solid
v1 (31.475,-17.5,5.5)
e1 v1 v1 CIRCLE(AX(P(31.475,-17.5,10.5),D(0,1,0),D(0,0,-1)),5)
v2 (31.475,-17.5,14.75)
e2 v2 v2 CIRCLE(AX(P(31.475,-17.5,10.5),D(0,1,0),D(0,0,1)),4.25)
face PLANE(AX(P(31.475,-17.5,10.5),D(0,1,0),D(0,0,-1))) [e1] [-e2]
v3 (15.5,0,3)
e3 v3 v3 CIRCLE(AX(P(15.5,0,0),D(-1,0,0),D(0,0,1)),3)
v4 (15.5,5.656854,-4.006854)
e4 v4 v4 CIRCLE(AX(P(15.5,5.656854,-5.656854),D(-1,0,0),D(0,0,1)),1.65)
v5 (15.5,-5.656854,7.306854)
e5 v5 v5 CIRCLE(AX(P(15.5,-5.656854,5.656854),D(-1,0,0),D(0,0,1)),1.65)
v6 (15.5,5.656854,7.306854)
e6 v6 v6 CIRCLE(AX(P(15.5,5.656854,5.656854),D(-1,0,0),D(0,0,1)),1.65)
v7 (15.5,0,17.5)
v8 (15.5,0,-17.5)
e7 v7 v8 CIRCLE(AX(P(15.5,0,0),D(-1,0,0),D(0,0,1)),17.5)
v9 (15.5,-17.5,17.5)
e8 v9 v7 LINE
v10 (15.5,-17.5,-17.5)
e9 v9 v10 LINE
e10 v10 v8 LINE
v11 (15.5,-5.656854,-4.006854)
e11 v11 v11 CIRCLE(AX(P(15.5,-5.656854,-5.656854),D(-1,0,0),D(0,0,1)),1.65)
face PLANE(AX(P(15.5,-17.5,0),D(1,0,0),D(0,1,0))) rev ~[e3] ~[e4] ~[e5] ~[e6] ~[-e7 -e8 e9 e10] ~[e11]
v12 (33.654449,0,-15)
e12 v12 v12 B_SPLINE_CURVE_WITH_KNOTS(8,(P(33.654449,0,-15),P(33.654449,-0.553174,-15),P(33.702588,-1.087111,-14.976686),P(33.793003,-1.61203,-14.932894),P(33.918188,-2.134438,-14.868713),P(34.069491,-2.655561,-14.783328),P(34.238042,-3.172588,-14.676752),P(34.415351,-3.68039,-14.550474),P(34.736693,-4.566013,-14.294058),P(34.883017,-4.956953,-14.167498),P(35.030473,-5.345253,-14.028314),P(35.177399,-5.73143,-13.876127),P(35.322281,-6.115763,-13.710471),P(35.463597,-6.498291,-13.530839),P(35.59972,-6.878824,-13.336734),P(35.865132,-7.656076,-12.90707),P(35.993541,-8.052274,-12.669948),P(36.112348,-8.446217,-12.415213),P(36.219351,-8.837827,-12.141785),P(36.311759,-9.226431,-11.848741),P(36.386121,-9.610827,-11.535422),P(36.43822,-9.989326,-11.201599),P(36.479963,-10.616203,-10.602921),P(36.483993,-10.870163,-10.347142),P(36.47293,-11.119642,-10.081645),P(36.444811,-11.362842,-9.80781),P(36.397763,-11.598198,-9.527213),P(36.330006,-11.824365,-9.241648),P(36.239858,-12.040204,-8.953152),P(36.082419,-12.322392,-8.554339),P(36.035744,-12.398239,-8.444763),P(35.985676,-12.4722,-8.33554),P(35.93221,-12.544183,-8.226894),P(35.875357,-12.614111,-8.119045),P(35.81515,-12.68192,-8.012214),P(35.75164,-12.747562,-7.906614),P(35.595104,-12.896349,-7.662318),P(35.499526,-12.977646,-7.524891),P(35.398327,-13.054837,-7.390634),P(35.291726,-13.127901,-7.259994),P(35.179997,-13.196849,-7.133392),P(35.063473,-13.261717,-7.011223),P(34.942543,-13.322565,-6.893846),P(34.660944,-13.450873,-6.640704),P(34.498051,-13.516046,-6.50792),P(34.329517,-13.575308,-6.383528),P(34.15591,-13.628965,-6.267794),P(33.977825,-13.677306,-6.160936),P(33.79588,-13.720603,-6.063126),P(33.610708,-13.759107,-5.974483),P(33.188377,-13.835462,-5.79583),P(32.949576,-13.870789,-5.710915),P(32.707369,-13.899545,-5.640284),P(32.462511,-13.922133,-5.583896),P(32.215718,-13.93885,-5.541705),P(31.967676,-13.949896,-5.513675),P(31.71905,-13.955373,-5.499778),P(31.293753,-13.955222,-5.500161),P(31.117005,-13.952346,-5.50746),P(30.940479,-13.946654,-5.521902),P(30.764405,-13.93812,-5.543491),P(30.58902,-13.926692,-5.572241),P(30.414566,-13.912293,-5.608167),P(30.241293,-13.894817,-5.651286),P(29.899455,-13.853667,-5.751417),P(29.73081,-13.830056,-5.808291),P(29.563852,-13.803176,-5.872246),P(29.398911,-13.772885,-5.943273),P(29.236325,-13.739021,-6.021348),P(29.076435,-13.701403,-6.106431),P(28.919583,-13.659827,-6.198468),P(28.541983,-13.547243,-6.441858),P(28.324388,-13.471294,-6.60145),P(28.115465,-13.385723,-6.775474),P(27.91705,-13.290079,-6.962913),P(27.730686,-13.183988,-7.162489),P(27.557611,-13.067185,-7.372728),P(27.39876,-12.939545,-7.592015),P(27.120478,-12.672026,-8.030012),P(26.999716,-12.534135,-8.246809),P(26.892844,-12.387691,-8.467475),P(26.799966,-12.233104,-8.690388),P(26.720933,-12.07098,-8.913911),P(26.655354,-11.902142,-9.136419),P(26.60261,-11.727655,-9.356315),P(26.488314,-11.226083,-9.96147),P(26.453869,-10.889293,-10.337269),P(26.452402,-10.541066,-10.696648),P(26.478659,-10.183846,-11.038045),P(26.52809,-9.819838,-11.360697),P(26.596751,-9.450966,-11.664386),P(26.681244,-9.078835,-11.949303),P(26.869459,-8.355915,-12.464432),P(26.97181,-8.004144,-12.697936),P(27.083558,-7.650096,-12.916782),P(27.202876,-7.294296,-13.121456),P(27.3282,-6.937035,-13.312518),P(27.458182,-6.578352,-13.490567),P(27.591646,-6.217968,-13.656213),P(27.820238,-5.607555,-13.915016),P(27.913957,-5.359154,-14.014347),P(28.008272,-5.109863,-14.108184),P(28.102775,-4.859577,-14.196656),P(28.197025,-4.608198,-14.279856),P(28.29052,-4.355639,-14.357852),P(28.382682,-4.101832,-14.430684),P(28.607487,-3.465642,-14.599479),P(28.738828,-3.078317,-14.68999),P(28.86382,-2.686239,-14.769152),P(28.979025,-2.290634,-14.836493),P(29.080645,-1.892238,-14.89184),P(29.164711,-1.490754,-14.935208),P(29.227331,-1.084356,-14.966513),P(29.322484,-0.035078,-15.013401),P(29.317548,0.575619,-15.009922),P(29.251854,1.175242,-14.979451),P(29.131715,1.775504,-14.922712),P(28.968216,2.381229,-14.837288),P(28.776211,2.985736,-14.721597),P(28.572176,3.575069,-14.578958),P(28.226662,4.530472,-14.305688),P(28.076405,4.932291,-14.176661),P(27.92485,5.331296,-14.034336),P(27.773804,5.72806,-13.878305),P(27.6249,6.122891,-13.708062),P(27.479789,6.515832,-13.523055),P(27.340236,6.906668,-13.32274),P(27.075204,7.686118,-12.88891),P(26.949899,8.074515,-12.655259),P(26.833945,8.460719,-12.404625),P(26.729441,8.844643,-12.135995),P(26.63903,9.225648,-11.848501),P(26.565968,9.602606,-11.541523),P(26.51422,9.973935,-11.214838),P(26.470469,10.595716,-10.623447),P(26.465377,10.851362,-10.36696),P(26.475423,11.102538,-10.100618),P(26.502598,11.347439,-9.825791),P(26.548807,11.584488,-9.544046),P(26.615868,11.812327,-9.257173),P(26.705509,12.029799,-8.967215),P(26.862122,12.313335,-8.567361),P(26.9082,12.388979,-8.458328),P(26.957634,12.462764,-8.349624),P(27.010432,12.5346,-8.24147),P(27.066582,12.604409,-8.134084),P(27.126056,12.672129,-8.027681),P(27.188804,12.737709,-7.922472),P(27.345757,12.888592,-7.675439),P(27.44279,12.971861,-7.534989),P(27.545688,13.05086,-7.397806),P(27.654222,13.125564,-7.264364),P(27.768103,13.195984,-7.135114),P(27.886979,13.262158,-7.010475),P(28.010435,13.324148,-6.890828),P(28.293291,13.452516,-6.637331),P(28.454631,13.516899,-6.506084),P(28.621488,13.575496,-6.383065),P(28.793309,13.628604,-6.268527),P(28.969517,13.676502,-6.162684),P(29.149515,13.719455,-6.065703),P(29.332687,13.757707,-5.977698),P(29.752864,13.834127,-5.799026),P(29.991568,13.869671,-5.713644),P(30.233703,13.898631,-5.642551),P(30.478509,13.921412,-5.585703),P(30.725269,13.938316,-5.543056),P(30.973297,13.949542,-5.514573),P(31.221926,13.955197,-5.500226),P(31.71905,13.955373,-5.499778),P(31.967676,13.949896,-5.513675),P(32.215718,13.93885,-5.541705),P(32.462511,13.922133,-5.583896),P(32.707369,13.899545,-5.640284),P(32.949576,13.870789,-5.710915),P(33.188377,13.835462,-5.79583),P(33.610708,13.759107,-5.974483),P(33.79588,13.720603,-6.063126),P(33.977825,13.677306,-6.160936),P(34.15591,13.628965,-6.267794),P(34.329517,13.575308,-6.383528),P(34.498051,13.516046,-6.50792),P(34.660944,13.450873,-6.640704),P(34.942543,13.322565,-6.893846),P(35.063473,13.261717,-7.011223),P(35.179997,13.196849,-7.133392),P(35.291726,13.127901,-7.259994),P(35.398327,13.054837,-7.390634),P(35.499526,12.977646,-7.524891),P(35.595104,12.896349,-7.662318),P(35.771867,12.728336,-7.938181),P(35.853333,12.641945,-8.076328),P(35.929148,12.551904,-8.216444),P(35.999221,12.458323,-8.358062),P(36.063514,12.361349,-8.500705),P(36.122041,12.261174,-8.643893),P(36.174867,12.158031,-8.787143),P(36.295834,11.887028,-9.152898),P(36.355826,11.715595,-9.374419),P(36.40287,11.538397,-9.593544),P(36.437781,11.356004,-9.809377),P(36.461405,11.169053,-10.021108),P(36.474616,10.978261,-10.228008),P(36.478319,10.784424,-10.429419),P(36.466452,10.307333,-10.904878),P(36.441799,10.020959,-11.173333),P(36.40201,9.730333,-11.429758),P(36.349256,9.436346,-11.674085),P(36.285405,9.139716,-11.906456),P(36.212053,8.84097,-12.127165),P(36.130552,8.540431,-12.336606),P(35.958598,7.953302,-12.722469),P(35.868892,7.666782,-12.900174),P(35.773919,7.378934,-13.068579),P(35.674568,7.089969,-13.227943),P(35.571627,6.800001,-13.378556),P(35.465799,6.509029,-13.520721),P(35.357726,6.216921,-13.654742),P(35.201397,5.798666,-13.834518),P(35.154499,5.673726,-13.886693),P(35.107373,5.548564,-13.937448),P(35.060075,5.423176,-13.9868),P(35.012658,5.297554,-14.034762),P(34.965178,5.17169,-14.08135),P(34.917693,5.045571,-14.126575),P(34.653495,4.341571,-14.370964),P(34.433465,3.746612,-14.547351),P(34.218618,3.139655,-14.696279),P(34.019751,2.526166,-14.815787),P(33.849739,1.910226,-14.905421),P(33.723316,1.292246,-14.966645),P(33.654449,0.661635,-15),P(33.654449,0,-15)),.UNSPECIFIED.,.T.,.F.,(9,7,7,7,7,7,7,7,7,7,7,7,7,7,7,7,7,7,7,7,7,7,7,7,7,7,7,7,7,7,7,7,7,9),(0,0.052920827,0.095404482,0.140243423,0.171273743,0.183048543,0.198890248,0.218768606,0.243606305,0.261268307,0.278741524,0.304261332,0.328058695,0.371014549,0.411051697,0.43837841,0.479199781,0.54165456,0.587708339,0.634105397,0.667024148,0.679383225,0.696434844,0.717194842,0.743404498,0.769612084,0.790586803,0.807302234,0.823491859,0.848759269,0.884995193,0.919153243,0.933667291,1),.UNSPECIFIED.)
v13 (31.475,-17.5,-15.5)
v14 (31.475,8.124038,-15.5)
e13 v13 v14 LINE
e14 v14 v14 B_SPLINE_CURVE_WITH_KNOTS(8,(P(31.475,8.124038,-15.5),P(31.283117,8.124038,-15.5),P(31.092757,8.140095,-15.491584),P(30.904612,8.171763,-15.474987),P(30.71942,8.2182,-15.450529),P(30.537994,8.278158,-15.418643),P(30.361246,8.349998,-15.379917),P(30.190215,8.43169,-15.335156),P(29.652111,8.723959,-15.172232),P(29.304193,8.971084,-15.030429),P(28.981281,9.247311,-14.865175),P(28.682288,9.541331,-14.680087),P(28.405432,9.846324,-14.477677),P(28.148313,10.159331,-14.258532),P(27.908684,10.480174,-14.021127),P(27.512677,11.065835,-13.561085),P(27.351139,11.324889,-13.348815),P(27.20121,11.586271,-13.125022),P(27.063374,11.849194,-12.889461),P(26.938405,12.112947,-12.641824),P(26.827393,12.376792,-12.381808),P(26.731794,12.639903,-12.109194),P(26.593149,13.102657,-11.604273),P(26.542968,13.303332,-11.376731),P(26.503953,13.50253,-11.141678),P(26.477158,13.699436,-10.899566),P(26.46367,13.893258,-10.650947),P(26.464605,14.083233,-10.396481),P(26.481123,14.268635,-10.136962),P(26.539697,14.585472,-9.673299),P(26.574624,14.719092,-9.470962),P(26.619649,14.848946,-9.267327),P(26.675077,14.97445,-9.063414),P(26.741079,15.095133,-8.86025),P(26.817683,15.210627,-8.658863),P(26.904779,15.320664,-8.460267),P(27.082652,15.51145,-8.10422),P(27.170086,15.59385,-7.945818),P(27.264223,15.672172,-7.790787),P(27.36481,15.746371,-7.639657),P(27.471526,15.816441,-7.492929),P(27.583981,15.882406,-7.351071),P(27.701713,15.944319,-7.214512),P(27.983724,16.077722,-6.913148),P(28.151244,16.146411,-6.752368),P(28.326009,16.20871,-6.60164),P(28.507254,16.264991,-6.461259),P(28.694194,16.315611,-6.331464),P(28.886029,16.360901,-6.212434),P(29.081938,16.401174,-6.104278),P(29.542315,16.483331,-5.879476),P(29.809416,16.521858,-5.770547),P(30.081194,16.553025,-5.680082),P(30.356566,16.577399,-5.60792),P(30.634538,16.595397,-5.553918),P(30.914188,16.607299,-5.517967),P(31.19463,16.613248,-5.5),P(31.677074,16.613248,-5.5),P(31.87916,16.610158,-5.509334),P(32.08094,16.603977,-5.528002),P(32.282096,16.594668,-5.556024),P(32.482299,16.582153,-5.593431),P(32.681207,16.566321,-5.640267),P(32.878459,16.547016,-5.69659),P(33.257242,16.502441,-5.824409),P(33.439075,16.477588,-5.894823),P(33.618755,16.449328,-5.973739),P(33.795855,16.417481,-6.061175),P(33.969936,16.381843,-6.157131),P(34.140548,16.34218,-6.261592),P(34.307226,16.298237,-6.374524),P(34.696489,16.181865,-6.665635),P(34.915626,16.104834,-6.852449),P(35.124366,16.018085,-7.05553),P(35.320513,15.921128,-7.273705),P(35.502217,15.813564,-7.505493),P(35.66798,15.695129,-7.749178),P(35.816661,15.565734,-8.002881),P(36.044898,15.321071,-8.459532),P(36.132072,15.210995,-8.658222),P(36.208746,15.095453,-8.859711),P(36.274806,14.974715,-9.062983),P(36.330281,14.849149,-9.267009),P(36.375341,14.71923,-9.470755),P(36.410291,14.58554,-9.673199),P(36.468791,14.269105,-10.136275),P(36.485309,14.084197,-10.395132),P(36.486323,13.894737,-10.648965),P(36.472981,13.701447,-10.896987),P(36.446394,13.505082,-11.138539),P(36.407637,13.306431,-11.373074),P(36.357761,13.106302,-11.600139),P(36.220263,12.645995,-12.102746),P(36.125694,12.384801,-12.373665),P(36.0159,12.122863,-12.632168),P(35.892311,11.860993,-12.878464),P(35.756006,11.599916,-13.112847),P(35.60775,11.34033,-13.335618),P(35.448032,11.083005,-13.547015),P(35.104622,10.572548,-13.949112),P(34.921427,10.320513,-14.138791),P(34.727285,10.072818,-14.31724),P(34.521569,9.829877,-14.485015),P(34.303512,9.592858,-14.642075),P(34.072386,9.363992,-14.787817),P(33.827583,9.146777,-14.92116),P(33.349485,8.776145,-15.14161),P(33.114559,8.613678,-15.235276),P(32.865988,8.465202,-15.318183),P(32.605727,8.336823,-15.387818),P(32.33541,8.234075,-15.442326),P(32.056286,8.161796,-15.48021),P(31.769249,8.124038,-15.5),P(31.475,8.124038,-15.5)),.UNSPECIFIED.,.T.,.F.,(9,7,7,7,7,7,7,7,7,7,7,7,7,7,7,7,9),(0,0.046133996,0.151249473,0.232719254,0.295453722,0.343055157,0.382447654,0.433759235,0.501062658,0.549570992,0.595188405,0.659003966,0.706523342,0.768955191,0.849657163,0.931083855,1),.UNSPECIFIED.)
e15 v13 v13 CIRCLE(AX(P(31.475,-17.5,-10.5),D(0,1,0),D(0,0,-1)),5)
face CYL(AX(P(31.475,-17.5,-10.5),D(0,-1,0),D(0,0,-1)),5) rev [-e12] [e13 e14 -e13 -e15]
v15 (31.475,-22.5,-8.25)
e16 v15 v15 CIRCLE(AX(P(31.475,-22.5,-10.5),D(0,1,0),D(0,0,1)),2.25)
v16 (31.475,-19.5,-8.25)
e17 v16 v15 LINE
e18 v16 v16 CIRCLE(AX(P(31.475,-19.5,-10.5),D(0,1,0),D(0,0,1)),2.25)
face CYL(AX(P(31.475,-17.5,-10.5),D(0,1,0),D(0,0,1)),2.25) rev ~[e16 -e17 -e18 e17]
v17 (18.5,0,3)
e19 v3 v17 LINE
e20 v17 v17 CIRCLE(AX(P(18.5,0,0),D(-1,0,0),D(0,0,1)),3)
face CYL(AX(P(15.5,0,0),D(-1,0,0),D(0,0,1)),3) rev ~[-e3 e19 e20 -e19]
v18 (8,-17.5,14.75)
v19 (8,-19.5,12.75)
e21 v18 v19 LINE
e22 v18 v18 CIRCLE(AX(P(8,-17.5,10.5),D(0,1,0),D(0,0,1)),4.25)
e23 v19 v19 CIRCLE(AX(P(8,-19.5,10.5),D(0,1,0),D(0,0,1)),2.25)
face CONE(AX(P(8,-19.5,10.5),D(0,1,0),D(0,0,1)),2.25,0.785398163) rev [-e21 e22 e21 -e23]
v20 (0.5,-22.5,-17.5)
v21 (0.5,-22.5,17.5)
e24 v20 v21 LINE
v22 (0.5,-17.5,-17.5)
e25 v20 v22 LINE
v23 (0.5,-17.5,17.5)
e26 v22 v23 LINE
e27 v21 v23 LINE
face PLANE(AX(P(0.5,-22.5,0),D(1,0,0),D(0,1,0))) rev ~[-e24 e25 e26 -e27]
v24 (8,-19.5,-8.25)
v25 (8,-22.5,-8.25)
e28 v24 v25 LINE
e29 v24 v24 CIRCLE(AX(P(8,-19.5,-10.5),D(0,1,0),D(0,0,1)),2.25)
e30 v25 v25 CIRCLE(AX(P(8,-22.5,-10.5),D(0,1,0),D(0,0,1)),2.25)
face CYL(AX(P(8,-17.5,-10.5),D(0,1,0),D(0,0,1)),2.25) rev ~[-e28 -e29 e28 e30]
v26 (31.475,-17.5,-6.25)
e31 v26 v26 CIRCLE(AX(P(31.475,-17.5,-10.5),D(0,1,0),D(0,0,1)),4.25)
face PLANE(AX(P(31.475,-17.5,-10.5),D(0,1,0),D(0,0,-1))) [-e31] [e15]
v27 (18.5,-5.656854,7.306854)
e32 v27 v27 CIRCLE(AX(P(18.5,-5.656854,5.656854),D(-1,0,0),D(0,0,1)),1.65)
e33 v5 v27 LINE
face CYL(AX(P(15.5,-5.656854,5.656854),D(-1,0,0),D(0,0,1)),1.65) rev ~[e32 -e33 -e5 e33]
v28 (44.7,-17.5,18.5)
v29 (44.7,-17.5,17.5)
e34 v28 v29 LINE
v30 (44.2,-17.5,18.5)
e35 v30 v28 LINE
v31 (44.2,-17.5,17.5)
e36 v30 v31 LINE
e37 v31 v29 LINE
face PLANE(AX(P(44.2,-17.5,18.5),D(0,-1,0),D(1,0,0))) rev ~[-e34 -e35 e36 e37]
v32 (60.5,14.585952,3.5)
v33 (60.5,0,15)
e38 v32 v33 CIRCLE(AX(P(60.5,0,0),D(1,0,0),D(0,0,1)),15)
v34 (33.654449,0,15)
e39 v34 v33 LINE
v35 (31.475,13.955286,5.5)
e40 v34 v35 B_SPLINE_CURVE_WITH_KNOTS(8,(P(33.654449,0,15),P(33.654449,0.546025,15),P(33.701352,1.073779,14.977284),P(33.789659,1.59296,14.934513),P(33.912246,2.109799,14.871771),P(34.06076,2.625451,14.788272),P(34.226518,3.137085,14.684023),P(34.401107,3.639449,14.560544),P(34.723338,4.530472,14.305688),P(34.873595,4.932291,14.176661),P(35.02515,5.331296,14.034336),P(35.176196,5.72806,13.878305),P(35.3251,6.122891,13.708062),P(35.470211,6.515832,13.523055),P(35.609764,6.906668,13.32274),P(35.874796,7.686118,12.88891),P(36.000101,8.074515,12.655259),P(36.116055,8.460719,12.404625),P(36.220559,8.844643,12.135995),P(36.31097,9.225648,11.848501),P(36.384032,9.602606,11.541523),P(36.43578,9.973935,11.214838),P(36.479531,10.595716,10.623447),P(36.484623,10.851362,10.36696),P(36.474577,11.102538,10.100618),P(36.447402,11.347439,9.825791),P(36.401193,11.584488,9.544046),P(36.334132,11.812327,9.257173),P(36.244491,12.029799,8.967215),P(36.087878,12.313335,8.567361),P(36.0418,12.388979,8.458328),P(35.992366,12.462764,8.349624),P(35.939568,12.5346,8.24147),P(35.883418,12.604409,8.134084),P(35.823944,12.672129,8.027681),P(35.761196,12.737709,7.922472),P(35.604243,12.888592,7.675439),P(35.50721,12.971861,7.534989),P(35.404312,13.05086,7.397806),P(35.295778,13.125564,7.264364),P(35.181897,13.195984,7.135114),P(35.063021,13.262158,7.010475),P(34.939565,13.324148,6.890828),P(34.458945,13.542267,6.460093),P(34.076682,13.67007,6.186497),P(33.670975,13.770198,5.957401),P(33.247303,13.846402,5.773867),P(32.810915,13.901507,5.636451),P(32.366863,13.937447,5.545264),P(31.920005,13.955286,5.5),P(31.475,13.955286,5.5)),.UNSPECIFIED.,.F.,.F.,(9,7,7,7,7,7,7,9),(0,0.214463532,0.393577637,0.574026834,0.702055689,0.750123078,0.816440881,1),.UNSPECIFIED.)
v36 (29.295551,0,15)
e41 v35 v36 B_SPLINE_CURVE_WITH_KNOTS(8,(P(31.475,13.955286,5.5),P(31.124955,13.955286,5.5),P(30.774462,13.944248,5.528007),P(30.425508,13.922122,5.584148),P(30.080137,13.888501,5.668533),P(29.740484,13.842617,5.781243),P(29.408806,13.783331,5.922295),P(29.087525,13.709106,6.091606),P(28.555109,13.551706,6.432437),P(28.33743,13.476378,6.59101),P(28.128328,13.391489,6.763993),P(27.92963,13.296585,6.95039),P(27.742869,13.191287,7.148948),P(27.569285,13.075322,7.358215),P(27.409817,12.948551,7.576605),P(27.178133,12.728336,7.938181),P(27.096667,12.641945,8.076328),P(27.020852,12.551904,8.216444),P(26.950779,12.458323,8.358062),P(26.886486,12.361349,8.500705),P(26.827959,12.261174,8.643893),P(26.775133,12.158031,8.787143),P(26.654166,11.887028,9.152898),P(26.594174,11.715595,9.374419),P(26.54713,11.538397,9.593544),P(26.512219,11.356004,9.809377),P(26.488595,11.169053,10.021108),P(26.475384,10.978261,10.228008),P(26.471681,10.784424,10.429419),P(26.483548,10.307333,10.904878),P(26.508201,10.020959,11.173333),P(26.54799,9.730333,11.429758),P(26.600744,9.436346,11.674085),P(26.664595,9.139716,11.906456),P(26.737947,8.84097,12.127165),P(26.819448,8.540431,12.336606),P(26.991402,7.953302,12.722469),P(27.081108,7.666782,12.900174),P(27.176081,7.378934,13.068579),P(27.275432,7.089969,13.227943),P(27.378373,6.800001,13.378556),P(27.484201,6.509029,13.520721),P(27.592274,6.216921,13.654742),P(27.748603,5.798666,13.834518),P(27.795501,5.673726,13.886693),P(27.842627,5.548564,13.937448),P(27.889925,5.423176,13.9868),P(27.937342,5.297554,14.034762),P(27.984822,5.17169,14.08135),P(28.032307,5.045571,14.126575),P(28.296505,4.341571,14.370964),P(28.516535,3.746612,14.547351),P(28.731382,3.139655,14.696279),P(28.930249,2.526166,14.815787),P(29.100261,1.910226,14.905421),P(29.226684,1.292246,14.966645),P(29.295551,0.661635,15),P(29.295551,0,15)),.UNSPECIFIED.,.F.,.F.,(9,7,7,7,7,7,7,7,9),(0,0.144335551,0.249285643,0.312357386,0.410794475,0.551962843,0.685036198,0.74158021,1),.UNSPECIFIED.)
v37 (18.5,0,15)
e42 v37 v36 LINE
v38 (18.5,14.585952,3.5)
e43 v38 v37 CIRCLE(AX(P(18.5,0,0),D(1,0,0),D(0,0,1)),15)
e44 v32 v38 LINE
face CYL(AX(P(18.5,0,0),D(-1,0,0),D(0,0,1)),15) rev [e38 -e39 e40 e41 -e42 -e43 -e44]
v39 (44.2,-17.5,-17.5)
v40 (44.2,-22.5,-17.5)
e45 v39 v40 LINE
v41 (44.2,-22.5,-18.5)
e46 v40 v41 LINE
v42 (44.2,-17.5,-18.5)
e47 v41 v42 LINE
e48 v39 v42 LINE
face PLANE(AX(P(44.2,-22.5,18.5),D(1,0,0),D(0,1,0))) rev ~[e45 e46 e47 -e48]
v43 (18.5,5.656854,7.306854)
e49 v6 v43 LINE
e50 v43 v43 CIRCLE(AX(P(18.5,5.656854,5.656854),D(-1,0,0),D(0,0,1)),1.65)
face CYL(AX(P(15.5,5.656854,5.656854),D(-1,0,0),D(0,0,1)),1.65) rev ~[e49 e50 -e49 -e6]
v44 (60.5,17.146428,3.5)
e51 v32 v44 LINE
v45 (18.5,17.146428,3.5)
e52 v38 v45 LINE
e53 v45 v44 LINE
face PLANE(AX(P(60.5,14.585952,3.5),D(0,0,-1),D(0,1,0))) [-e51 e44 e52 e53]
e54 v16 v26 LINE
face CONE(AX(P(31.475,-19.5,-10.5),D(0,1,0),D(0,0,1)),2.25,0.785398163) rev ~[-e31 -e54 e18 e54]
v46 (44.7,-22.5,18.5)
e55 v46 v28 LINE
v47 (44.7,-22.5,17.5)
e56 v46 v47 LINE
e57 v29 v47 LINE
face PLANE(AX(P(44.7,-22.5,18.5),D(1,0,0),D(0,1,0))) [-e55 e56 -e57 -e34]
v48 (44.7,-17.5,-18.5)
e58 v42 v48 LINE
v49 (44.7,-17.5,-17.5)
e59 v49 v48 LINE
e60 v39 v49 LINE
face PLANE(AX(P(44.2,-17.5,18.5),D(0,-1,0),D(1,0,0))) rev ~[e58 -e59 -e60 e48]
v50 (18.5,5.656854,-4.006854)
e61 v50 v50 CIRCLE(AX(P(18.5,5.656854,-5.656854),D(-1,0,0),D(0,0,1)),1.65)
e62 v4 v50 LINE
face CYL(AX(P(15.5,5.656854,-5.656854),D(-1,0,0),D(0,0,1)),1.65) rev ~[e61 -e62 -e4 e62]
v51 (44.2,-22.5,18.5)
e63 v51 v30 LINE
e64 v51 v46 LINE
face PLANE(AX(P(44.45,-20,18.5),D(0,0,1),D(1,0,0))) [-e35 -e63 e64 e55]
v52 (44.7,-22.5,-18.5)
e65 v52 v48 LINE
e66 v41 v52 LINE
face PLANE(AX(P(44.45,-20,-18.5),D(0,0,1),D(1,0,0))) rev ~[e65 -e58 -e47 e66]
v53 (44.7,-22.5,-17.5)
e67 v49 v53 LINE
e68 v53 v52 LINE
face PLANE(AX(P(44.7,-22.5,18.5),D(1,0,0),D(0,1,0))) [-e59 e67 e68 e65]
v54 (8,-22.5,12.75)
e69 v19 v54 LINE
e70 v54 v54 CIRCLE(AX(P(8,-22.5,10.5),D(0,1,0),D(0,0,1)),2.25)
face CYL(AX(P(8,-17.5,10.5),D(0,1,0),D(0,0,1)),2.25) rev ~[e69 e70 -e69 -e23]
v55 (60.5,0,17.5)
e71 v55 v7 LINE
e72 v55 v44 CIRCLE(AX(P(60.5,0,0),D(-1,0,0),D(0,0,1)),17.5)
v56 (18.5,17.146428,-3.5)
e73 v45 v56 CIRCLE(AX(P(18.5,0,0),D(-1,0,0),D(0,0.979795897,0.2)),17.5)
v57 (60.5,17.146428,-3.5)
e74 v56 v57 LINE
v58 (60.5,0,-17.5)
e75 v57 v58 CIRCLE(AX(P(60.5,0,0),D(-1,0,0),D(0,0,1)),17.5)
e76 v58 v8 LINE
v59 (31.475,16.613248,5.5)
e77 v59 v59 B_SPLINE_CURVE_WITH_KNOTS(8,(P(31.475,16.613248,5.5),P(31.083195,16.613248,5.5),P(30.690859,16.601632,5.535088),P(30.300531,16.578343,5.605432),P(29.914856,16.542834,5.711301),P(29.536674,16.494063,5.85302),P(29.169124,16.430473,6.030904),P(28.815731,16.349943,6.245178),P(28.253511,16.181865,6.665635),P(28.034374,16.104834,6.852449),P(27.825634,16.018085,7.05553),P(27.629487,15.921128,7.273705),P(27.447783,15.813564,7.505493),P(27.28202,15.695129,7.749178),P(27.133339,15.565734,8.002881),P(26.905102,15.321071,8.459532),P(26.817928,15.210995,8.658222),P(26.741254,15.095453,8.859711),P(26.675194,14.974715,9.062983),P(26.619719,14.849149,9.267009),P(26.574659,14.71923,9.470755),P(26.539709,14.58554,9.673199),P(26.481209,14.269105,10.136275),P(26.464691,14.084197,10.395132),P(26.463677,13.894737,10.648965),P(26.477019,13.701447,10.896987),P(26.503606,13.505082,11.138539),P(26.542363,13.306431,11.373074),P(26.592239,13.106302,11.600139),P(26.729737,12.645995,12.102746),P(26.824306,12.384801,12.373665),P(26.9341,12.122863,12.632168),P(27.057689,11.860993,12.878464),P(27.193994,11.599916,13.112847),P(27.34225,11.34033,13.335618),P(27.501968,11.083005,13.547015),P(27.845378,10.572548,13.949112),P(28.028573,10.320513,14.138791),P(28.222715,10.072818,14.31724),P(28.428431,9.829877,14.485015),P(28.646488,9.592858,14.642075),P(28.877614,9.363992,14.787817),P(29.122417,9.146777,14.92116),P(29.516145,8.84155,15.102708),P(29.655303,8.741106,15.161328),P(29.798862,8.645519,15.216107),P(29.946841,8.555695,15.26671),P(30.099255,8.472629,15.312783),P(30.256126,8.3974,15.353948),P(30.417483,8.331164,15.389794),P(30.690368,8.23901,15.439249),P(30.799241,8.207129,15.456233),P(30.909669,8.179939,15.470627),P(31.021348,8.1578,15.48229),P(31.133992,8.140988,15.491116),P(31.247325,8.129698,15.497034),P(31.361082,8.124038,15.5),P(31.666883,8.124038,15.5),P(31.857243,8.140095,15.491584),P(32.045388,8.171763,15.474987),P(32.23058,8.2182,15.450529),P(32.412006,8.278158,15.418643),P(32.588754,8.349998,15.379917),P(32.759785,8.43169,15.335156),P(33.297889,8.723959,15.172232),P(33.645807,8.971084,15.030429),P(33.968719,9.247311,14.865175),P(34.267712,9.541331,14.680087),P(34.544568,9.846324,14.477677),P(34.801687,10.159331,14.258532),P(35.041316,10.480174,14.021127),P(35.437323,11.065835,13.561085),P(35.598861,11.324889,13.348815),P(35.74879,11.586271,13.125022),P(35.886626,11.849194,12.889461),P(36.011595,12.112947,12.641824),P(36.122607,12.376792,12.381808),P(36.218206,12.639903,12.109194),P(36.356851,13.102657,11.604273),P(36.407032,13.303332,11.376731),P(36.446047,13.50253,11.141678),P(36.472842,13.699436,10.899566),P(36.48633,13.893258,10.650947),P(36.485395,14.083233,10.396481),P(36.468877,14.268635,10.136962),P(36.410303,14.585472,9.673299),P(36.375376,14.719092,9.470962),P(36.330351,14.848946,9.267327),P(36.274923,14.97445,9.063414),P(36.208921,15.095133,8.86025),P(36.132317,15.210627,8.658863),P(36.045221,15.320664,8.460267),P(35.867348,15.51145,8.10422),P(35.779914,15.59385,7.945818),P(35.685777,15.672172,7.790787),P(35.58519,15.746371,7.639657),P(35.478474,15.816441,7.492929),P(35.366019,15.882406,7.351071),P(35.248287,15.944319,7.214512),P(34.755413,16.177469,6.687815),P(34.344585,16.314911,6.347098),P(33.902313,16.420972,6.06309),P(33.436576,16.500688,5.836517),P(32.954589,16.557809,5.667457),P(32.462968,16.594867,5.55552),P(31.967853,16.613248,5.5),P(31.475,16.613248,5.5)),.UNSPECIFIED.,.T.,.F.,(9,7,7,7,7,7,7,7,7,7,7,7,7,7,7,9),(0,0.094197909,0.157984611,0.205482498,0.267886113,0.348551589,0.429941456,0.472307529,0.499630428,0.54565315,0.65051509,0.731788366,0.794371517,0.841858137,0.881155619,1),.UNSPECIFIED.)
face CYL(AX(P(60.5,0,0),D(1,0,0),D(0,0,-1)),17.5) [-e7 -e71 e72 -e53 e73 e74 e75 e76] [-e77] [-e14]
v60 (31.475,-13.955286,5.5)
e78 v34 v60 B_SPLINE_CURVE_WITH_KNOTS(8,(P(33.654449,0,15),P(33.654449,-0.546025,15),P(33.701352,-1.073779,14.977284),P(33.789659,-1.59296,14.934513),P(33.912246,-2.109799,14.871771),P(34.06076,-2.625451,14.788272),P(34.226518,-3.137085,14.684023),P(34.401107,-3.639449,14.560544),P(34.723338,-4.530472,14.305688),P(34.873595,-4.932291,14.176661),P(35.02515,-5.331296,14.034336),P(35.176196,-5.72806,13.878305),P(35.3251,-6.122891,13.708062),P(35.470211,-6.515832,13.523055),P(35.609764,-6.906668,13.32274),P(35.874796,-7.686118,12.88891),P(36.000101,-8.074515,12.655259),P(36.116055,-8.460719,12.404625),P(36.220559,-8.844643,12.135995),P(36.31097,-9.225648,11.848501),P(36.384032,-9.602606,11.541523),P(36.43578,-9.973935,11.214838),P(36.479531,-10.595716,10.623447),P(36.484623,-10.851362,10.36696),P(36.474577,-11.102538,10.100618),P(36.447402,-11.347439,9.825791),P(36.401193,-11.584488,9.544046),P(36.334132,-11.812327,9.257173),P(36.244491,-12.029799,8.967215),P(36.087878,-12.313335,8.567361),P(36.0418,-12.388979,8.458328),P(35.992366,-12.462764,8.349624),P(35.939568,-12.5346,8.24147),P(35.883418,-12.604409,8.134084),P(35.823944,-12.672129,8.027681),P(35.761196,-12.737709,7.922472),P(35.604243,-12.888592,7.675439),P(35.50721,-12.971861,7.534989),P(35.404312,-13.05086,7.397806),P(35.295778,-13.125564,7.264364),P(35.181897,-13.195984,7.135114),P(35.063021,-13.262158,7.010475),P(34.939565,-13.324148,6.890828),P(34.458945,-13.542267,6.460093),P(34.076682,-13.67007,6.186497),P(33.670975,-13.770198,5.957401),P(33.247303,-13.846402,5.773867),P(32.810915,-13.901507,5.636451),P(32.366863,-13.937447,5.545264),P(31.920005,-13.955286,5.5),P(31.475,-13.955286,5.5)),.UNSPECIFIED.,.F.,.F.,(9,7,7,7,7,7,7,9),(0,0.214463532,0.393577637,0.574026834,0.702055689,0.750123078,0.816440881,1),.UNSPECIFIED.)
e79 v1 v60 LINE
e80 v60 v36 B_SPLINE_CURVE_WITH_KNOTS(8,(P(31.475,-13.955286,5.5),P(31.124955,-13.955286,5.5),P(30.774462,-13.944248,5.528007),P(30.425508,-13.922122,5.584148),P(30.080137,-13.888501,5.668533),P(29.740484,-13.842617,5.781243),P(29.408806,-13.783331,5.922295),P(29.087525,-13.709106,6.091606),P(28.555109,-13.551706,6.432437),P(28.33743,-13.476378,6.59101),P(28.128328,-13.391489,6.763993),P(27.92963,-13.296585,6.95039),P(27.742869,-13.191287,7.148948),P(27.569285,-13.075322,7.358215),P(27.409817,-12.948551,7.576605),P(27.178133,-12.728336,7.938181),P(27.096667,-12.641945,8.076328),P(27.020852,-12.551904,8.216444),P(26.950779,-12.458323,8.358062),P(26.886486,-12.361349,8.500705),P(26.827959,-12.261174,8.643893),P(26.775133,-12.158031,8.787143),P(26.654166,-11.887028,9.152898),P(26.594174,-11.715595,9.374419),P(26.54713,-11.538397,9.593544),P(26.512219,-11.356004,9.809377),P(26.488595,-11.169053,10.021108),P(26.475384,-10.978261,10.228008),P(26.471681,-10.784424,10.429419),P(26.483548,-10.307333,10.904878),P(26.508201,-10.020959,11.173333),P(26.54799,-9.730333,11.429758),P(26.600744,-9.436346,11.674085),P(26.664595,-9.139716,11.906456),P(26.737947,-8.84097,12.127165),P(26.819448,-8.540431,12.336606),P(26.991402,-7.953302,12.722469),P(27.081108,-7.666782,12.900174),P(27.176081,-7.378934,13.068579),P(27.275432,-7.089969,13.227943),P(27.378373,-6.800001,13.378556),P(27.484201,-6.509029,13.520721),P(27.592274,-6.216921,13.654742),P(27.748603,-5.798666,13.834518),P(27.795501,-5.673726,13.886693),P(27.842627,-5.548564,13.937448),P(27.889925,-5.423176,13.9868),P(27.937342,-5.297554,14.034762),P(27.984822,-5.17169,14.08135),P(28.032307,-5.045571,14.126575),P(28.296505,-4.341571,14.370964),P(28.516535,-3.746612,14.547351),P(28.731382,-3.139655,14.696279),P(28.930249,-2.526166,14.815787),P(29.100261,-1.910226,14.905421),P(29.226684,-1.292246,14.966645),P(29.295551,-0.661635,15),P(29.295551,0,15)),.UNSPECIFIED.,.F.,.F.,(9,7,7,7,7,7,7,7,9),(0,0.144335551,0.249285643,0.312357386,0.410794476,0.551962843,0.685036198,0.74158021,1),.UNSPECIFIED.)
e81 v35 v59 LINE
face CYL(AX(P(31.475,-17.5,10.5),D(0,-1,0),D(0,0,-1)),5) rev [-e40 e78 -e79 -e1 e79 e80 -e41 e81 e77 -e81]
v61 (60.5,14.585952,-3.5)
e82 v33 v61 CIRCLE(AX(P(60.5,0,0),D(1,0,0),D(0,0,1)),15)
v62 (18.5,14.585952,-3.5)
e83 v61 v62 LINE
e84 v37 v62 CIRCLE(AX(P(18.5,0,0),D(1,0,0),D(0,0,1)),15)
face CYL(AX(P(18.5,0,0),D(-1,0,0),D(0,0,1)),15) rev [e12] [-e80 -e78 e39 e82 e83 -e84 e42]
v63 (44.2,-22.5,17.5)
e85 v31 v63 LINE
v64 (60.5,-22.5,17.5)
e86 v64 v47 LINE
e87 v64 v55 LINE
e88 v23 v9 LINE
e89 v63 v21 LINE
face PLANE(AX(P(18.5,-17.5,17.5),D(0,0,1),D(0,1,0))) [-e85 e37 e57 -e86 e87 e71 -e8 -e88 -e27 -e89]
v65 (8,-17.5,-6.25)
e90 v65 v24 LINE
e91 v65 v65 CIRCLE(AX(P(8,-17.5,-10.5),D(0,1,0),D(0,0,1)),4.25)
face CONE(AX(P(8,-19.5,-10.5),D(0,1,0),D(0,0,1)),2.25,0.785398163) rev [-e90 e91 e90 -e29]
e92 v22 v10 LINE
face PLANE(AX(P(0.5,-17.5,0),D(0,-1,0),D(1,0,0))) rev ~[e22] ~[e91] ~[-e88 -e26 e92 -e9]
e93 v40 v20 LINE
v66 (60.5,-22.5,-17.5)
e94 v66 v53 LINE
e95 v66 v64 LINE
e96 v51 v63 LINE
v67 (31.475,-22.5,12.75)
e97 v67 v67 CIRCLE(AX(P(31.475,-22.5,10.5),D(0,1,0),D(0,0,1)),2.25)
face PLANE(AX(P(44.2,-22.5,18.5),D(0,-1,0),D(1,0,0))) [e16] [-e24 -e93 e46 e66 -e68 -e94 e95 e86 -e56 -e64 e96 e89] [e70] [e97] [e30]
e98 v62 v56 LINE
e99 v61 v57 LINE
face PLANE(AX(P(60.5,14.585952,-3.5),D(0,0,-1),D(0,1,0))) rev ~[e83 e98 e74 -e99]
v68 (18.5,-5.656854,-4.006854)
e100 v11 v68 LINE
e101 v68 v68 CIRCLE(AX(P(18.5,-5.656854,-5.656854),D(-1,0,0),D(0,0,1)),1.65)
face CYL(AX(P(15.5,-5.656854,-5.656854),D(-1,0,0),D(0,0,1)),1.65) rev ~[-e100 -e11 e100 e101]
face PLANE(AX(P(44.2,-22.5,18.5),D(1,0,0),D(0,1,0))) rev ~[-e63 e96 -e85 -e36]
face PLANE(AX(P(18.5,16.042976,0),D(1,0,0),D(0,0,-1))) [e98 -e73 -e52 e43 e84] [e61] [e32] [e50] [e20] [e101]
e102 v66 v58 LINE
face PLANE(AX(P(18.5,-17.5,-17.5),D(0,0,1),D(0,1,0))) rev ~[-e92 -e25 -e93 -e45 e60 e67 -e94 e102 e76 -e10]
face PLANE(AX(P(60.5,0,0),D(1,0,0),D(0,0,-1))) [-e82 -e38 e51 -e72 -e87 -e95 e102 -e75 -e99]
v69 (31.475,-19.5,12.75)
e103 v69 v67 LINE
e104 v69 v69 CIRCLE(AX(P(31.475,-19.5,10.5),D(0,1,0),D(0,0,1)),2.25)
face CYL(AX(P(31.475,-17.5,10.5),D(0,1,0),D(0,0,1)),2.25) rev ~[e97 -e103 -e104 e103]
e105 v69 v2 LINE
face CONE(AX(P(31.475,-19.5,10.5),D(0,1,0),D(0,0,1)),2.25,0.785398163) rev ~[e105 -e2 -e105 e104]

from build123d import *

# Parameters (mm, degrees)
BOSS_EXTRUDE1_DEPTH = 17.5
BOSS_EXTRUDE2_START = 1
SKETCH2_W           = 0.5
SKETCH2_H           = 5
BOSS_EXTRUDE2_DEPTH = 37
SKETCH3_R           = 3
SKETCH3_R_2         = 1.65
CUT_EXTRUDE1_DEPTH  = 54.605037077
SKETCH4_W           = 35
SKETCH4_H           = 35
SKETCH4_R           = 15
BOSS_EXTRUDE3_DEPTH = 42
CUT_EXTRUDE2_DEPTH  = 67.697076398
SKETCH6_R           = 5
CUT_EXTRUDE3_DEPTH  = 73.301452268
SKETCH7_R           = 2.25
CUT_EXTRUDE4_DEPTH  = 73.3014524
CHAMFER1_SIZE       = 2
SKETCH8_W           = 7
SKETCH8_H           = 2.914047854
CUT_EXTRUDE5_DEPTH  = 42


with BuildPart() as part:
    # Sketch1 → Boss-Extrude1 (new, symmetric)
    with BuildSketch(Plane.XY):
        Polygon((0.5, -17.5), (15.5, -17.5), (15.5, 17.5), (18.5, 17.5), (18.5, -17.5), (60.5, -17.5), (60.5, -22.5), (0.5, -22.5), align=None)
    extrude(amount=BOSS_EXTRUDE1_DEPTH, both=True)

    # Sketch2 → Boss-Extrude2 (add)
    with BuildSketch(Plane.XY.offset(17.5).offset(BOSS_EXTRUDE2_START)):
        with Locations((44.45, -20)):
            Rectangle(SKETCH2_W, SKETCH2_H)
    extrude(amount=-BOSS_EXTRUDE2_DEPTH)

    # Sketch3 → Cut-Extrude1 (cut, through all)
    with BuildSketch(Plane.ZY.offset(-15.5)):
        Circle(SKETCH3_R)
        with Locations((-5.656854249, 5.656854249)):
            Circle(SKETCH3_R_2)
        with Locations((5.656854249, 5.656854249)):
            Circle(SKETCH3_R_2)
        with Locations((5.656854249, -5.656854249)):
            Circle(SKETCH3_R_2)
        with Locations((-5.656854249, -5.656854249)):
            Circle(SKETCH3_R_2)
    extrude(amount=-CUT_EXTRUDE1_DEPTH, mode=Mode.SUBTRACT)

    # Sketch4 → Boss-Extrude3 (add, through all)
    with BuildSketch(Plane(origin=(18.5, 0, 0), x_dir=(0, 0, -1), z_dir=(1, 0, 0))):
        Rectangle(SKETCH4_W, SKETCH4_H)
        with Locations(Location((0, 0, 0), (0, 0, 180))):
            Circle(SKETCH4_R, mode=Mode.SUBTRACT)
    extrude(amount=BOSS_EXTRUDE3_DEPTH)

    # Sketch5 → Cut-Extrude2 (cut, through all)
    with BuildSketch(Plane(origin=(60.5, 0, 0), x_dir=(0, 0, -1), z_dir=(1, 0, 0))):
        with BuildLine():
            Line((-17.5, 0), (-17.5, 18.5))
            Line((-17.5, 18.5), (17.5, 18.5))
            Line((17.5, 18.5), (17.5, 0))
            ThreePointArc((17.5, 0), (0, 17.5), (-17.5, 0))
        make_face()
    extrude(amount=-CUT_EXTRUDE2_DEPTH, mode=Mode.SUBTRACT)

    # Sketch6 → Cut-Extrude3 (cut, through all)
    with BuildSketch(Plane(origin=(0, -17.5, 0), x_dir=(1, 0, 0), z_dir=(0, 1, 0))):
        with Locations(Location((31.475, -10.5, 0), (0, 0, 90))):
            Circle(SKETCH6_R)
        with Locations(Location((31.475, 10.5, 0), (0, 0, 90))):
            Circle(SKETCH6_R)
    extrude(amount=CUT_EXTRUDE3_DEPTH, mode=Mode.SUBTRACT)

    # Sketch7 → Cut-Extrude4 (cut, through all)
    with BuildSketch(Plane(origin=(0, -17.5, 0), x_dir=(1, 0, 0), z_dir=(0, 1, 0))):
        with Locations(Location((8, 10.5, 0), (0, 0, 270))):
            Circle(SKETCH7_R)
        with Locations(Location((8, -10.5, 0), (0, 0, 270))):
            Circle(SKETCH7_R)
        with Locations(Location((31.475, -10.5, 0), (0, 0, 270))):
            Circle(SKETCH7_R)
        with Locations(Location((31.475, 10.5, 0), (0, 0, 270))):
            Circle(SKETCH7_R)
    extrude(amount=-CUT_EXTRUDE4_DEPTH, mode=Mode.SUBTRACT)

    # Chamfer1
    chamfer1_edges = [part.edges().sort_by_distance(p)[0] for p in [
        (31.475, -17.5, 8.25),
        (8, -17.5, -12.75),
        (31.475, -17.5, -12.75),
        (8, -17.5, 8.25),
    ]]
    chamfer(chamfer1_edges, length=CHAMFER1_SIZE)

    # Sketch8 → Cut-Extrude5 (cut)
    with BuildSketch(Plane(origin=(60.5, 0, 0), x_dir=(0, 0, -1), z_dir=(1, 0, 0))):
        with Locations((0, 16.042976073)):
            Rectangle(SKETCH8_W, SKETCH8_H)
    extrude(amount=-CUT_EXTRUDE5_DEPTH, mode=Mode.SUBTRACT)


solid = part.part
